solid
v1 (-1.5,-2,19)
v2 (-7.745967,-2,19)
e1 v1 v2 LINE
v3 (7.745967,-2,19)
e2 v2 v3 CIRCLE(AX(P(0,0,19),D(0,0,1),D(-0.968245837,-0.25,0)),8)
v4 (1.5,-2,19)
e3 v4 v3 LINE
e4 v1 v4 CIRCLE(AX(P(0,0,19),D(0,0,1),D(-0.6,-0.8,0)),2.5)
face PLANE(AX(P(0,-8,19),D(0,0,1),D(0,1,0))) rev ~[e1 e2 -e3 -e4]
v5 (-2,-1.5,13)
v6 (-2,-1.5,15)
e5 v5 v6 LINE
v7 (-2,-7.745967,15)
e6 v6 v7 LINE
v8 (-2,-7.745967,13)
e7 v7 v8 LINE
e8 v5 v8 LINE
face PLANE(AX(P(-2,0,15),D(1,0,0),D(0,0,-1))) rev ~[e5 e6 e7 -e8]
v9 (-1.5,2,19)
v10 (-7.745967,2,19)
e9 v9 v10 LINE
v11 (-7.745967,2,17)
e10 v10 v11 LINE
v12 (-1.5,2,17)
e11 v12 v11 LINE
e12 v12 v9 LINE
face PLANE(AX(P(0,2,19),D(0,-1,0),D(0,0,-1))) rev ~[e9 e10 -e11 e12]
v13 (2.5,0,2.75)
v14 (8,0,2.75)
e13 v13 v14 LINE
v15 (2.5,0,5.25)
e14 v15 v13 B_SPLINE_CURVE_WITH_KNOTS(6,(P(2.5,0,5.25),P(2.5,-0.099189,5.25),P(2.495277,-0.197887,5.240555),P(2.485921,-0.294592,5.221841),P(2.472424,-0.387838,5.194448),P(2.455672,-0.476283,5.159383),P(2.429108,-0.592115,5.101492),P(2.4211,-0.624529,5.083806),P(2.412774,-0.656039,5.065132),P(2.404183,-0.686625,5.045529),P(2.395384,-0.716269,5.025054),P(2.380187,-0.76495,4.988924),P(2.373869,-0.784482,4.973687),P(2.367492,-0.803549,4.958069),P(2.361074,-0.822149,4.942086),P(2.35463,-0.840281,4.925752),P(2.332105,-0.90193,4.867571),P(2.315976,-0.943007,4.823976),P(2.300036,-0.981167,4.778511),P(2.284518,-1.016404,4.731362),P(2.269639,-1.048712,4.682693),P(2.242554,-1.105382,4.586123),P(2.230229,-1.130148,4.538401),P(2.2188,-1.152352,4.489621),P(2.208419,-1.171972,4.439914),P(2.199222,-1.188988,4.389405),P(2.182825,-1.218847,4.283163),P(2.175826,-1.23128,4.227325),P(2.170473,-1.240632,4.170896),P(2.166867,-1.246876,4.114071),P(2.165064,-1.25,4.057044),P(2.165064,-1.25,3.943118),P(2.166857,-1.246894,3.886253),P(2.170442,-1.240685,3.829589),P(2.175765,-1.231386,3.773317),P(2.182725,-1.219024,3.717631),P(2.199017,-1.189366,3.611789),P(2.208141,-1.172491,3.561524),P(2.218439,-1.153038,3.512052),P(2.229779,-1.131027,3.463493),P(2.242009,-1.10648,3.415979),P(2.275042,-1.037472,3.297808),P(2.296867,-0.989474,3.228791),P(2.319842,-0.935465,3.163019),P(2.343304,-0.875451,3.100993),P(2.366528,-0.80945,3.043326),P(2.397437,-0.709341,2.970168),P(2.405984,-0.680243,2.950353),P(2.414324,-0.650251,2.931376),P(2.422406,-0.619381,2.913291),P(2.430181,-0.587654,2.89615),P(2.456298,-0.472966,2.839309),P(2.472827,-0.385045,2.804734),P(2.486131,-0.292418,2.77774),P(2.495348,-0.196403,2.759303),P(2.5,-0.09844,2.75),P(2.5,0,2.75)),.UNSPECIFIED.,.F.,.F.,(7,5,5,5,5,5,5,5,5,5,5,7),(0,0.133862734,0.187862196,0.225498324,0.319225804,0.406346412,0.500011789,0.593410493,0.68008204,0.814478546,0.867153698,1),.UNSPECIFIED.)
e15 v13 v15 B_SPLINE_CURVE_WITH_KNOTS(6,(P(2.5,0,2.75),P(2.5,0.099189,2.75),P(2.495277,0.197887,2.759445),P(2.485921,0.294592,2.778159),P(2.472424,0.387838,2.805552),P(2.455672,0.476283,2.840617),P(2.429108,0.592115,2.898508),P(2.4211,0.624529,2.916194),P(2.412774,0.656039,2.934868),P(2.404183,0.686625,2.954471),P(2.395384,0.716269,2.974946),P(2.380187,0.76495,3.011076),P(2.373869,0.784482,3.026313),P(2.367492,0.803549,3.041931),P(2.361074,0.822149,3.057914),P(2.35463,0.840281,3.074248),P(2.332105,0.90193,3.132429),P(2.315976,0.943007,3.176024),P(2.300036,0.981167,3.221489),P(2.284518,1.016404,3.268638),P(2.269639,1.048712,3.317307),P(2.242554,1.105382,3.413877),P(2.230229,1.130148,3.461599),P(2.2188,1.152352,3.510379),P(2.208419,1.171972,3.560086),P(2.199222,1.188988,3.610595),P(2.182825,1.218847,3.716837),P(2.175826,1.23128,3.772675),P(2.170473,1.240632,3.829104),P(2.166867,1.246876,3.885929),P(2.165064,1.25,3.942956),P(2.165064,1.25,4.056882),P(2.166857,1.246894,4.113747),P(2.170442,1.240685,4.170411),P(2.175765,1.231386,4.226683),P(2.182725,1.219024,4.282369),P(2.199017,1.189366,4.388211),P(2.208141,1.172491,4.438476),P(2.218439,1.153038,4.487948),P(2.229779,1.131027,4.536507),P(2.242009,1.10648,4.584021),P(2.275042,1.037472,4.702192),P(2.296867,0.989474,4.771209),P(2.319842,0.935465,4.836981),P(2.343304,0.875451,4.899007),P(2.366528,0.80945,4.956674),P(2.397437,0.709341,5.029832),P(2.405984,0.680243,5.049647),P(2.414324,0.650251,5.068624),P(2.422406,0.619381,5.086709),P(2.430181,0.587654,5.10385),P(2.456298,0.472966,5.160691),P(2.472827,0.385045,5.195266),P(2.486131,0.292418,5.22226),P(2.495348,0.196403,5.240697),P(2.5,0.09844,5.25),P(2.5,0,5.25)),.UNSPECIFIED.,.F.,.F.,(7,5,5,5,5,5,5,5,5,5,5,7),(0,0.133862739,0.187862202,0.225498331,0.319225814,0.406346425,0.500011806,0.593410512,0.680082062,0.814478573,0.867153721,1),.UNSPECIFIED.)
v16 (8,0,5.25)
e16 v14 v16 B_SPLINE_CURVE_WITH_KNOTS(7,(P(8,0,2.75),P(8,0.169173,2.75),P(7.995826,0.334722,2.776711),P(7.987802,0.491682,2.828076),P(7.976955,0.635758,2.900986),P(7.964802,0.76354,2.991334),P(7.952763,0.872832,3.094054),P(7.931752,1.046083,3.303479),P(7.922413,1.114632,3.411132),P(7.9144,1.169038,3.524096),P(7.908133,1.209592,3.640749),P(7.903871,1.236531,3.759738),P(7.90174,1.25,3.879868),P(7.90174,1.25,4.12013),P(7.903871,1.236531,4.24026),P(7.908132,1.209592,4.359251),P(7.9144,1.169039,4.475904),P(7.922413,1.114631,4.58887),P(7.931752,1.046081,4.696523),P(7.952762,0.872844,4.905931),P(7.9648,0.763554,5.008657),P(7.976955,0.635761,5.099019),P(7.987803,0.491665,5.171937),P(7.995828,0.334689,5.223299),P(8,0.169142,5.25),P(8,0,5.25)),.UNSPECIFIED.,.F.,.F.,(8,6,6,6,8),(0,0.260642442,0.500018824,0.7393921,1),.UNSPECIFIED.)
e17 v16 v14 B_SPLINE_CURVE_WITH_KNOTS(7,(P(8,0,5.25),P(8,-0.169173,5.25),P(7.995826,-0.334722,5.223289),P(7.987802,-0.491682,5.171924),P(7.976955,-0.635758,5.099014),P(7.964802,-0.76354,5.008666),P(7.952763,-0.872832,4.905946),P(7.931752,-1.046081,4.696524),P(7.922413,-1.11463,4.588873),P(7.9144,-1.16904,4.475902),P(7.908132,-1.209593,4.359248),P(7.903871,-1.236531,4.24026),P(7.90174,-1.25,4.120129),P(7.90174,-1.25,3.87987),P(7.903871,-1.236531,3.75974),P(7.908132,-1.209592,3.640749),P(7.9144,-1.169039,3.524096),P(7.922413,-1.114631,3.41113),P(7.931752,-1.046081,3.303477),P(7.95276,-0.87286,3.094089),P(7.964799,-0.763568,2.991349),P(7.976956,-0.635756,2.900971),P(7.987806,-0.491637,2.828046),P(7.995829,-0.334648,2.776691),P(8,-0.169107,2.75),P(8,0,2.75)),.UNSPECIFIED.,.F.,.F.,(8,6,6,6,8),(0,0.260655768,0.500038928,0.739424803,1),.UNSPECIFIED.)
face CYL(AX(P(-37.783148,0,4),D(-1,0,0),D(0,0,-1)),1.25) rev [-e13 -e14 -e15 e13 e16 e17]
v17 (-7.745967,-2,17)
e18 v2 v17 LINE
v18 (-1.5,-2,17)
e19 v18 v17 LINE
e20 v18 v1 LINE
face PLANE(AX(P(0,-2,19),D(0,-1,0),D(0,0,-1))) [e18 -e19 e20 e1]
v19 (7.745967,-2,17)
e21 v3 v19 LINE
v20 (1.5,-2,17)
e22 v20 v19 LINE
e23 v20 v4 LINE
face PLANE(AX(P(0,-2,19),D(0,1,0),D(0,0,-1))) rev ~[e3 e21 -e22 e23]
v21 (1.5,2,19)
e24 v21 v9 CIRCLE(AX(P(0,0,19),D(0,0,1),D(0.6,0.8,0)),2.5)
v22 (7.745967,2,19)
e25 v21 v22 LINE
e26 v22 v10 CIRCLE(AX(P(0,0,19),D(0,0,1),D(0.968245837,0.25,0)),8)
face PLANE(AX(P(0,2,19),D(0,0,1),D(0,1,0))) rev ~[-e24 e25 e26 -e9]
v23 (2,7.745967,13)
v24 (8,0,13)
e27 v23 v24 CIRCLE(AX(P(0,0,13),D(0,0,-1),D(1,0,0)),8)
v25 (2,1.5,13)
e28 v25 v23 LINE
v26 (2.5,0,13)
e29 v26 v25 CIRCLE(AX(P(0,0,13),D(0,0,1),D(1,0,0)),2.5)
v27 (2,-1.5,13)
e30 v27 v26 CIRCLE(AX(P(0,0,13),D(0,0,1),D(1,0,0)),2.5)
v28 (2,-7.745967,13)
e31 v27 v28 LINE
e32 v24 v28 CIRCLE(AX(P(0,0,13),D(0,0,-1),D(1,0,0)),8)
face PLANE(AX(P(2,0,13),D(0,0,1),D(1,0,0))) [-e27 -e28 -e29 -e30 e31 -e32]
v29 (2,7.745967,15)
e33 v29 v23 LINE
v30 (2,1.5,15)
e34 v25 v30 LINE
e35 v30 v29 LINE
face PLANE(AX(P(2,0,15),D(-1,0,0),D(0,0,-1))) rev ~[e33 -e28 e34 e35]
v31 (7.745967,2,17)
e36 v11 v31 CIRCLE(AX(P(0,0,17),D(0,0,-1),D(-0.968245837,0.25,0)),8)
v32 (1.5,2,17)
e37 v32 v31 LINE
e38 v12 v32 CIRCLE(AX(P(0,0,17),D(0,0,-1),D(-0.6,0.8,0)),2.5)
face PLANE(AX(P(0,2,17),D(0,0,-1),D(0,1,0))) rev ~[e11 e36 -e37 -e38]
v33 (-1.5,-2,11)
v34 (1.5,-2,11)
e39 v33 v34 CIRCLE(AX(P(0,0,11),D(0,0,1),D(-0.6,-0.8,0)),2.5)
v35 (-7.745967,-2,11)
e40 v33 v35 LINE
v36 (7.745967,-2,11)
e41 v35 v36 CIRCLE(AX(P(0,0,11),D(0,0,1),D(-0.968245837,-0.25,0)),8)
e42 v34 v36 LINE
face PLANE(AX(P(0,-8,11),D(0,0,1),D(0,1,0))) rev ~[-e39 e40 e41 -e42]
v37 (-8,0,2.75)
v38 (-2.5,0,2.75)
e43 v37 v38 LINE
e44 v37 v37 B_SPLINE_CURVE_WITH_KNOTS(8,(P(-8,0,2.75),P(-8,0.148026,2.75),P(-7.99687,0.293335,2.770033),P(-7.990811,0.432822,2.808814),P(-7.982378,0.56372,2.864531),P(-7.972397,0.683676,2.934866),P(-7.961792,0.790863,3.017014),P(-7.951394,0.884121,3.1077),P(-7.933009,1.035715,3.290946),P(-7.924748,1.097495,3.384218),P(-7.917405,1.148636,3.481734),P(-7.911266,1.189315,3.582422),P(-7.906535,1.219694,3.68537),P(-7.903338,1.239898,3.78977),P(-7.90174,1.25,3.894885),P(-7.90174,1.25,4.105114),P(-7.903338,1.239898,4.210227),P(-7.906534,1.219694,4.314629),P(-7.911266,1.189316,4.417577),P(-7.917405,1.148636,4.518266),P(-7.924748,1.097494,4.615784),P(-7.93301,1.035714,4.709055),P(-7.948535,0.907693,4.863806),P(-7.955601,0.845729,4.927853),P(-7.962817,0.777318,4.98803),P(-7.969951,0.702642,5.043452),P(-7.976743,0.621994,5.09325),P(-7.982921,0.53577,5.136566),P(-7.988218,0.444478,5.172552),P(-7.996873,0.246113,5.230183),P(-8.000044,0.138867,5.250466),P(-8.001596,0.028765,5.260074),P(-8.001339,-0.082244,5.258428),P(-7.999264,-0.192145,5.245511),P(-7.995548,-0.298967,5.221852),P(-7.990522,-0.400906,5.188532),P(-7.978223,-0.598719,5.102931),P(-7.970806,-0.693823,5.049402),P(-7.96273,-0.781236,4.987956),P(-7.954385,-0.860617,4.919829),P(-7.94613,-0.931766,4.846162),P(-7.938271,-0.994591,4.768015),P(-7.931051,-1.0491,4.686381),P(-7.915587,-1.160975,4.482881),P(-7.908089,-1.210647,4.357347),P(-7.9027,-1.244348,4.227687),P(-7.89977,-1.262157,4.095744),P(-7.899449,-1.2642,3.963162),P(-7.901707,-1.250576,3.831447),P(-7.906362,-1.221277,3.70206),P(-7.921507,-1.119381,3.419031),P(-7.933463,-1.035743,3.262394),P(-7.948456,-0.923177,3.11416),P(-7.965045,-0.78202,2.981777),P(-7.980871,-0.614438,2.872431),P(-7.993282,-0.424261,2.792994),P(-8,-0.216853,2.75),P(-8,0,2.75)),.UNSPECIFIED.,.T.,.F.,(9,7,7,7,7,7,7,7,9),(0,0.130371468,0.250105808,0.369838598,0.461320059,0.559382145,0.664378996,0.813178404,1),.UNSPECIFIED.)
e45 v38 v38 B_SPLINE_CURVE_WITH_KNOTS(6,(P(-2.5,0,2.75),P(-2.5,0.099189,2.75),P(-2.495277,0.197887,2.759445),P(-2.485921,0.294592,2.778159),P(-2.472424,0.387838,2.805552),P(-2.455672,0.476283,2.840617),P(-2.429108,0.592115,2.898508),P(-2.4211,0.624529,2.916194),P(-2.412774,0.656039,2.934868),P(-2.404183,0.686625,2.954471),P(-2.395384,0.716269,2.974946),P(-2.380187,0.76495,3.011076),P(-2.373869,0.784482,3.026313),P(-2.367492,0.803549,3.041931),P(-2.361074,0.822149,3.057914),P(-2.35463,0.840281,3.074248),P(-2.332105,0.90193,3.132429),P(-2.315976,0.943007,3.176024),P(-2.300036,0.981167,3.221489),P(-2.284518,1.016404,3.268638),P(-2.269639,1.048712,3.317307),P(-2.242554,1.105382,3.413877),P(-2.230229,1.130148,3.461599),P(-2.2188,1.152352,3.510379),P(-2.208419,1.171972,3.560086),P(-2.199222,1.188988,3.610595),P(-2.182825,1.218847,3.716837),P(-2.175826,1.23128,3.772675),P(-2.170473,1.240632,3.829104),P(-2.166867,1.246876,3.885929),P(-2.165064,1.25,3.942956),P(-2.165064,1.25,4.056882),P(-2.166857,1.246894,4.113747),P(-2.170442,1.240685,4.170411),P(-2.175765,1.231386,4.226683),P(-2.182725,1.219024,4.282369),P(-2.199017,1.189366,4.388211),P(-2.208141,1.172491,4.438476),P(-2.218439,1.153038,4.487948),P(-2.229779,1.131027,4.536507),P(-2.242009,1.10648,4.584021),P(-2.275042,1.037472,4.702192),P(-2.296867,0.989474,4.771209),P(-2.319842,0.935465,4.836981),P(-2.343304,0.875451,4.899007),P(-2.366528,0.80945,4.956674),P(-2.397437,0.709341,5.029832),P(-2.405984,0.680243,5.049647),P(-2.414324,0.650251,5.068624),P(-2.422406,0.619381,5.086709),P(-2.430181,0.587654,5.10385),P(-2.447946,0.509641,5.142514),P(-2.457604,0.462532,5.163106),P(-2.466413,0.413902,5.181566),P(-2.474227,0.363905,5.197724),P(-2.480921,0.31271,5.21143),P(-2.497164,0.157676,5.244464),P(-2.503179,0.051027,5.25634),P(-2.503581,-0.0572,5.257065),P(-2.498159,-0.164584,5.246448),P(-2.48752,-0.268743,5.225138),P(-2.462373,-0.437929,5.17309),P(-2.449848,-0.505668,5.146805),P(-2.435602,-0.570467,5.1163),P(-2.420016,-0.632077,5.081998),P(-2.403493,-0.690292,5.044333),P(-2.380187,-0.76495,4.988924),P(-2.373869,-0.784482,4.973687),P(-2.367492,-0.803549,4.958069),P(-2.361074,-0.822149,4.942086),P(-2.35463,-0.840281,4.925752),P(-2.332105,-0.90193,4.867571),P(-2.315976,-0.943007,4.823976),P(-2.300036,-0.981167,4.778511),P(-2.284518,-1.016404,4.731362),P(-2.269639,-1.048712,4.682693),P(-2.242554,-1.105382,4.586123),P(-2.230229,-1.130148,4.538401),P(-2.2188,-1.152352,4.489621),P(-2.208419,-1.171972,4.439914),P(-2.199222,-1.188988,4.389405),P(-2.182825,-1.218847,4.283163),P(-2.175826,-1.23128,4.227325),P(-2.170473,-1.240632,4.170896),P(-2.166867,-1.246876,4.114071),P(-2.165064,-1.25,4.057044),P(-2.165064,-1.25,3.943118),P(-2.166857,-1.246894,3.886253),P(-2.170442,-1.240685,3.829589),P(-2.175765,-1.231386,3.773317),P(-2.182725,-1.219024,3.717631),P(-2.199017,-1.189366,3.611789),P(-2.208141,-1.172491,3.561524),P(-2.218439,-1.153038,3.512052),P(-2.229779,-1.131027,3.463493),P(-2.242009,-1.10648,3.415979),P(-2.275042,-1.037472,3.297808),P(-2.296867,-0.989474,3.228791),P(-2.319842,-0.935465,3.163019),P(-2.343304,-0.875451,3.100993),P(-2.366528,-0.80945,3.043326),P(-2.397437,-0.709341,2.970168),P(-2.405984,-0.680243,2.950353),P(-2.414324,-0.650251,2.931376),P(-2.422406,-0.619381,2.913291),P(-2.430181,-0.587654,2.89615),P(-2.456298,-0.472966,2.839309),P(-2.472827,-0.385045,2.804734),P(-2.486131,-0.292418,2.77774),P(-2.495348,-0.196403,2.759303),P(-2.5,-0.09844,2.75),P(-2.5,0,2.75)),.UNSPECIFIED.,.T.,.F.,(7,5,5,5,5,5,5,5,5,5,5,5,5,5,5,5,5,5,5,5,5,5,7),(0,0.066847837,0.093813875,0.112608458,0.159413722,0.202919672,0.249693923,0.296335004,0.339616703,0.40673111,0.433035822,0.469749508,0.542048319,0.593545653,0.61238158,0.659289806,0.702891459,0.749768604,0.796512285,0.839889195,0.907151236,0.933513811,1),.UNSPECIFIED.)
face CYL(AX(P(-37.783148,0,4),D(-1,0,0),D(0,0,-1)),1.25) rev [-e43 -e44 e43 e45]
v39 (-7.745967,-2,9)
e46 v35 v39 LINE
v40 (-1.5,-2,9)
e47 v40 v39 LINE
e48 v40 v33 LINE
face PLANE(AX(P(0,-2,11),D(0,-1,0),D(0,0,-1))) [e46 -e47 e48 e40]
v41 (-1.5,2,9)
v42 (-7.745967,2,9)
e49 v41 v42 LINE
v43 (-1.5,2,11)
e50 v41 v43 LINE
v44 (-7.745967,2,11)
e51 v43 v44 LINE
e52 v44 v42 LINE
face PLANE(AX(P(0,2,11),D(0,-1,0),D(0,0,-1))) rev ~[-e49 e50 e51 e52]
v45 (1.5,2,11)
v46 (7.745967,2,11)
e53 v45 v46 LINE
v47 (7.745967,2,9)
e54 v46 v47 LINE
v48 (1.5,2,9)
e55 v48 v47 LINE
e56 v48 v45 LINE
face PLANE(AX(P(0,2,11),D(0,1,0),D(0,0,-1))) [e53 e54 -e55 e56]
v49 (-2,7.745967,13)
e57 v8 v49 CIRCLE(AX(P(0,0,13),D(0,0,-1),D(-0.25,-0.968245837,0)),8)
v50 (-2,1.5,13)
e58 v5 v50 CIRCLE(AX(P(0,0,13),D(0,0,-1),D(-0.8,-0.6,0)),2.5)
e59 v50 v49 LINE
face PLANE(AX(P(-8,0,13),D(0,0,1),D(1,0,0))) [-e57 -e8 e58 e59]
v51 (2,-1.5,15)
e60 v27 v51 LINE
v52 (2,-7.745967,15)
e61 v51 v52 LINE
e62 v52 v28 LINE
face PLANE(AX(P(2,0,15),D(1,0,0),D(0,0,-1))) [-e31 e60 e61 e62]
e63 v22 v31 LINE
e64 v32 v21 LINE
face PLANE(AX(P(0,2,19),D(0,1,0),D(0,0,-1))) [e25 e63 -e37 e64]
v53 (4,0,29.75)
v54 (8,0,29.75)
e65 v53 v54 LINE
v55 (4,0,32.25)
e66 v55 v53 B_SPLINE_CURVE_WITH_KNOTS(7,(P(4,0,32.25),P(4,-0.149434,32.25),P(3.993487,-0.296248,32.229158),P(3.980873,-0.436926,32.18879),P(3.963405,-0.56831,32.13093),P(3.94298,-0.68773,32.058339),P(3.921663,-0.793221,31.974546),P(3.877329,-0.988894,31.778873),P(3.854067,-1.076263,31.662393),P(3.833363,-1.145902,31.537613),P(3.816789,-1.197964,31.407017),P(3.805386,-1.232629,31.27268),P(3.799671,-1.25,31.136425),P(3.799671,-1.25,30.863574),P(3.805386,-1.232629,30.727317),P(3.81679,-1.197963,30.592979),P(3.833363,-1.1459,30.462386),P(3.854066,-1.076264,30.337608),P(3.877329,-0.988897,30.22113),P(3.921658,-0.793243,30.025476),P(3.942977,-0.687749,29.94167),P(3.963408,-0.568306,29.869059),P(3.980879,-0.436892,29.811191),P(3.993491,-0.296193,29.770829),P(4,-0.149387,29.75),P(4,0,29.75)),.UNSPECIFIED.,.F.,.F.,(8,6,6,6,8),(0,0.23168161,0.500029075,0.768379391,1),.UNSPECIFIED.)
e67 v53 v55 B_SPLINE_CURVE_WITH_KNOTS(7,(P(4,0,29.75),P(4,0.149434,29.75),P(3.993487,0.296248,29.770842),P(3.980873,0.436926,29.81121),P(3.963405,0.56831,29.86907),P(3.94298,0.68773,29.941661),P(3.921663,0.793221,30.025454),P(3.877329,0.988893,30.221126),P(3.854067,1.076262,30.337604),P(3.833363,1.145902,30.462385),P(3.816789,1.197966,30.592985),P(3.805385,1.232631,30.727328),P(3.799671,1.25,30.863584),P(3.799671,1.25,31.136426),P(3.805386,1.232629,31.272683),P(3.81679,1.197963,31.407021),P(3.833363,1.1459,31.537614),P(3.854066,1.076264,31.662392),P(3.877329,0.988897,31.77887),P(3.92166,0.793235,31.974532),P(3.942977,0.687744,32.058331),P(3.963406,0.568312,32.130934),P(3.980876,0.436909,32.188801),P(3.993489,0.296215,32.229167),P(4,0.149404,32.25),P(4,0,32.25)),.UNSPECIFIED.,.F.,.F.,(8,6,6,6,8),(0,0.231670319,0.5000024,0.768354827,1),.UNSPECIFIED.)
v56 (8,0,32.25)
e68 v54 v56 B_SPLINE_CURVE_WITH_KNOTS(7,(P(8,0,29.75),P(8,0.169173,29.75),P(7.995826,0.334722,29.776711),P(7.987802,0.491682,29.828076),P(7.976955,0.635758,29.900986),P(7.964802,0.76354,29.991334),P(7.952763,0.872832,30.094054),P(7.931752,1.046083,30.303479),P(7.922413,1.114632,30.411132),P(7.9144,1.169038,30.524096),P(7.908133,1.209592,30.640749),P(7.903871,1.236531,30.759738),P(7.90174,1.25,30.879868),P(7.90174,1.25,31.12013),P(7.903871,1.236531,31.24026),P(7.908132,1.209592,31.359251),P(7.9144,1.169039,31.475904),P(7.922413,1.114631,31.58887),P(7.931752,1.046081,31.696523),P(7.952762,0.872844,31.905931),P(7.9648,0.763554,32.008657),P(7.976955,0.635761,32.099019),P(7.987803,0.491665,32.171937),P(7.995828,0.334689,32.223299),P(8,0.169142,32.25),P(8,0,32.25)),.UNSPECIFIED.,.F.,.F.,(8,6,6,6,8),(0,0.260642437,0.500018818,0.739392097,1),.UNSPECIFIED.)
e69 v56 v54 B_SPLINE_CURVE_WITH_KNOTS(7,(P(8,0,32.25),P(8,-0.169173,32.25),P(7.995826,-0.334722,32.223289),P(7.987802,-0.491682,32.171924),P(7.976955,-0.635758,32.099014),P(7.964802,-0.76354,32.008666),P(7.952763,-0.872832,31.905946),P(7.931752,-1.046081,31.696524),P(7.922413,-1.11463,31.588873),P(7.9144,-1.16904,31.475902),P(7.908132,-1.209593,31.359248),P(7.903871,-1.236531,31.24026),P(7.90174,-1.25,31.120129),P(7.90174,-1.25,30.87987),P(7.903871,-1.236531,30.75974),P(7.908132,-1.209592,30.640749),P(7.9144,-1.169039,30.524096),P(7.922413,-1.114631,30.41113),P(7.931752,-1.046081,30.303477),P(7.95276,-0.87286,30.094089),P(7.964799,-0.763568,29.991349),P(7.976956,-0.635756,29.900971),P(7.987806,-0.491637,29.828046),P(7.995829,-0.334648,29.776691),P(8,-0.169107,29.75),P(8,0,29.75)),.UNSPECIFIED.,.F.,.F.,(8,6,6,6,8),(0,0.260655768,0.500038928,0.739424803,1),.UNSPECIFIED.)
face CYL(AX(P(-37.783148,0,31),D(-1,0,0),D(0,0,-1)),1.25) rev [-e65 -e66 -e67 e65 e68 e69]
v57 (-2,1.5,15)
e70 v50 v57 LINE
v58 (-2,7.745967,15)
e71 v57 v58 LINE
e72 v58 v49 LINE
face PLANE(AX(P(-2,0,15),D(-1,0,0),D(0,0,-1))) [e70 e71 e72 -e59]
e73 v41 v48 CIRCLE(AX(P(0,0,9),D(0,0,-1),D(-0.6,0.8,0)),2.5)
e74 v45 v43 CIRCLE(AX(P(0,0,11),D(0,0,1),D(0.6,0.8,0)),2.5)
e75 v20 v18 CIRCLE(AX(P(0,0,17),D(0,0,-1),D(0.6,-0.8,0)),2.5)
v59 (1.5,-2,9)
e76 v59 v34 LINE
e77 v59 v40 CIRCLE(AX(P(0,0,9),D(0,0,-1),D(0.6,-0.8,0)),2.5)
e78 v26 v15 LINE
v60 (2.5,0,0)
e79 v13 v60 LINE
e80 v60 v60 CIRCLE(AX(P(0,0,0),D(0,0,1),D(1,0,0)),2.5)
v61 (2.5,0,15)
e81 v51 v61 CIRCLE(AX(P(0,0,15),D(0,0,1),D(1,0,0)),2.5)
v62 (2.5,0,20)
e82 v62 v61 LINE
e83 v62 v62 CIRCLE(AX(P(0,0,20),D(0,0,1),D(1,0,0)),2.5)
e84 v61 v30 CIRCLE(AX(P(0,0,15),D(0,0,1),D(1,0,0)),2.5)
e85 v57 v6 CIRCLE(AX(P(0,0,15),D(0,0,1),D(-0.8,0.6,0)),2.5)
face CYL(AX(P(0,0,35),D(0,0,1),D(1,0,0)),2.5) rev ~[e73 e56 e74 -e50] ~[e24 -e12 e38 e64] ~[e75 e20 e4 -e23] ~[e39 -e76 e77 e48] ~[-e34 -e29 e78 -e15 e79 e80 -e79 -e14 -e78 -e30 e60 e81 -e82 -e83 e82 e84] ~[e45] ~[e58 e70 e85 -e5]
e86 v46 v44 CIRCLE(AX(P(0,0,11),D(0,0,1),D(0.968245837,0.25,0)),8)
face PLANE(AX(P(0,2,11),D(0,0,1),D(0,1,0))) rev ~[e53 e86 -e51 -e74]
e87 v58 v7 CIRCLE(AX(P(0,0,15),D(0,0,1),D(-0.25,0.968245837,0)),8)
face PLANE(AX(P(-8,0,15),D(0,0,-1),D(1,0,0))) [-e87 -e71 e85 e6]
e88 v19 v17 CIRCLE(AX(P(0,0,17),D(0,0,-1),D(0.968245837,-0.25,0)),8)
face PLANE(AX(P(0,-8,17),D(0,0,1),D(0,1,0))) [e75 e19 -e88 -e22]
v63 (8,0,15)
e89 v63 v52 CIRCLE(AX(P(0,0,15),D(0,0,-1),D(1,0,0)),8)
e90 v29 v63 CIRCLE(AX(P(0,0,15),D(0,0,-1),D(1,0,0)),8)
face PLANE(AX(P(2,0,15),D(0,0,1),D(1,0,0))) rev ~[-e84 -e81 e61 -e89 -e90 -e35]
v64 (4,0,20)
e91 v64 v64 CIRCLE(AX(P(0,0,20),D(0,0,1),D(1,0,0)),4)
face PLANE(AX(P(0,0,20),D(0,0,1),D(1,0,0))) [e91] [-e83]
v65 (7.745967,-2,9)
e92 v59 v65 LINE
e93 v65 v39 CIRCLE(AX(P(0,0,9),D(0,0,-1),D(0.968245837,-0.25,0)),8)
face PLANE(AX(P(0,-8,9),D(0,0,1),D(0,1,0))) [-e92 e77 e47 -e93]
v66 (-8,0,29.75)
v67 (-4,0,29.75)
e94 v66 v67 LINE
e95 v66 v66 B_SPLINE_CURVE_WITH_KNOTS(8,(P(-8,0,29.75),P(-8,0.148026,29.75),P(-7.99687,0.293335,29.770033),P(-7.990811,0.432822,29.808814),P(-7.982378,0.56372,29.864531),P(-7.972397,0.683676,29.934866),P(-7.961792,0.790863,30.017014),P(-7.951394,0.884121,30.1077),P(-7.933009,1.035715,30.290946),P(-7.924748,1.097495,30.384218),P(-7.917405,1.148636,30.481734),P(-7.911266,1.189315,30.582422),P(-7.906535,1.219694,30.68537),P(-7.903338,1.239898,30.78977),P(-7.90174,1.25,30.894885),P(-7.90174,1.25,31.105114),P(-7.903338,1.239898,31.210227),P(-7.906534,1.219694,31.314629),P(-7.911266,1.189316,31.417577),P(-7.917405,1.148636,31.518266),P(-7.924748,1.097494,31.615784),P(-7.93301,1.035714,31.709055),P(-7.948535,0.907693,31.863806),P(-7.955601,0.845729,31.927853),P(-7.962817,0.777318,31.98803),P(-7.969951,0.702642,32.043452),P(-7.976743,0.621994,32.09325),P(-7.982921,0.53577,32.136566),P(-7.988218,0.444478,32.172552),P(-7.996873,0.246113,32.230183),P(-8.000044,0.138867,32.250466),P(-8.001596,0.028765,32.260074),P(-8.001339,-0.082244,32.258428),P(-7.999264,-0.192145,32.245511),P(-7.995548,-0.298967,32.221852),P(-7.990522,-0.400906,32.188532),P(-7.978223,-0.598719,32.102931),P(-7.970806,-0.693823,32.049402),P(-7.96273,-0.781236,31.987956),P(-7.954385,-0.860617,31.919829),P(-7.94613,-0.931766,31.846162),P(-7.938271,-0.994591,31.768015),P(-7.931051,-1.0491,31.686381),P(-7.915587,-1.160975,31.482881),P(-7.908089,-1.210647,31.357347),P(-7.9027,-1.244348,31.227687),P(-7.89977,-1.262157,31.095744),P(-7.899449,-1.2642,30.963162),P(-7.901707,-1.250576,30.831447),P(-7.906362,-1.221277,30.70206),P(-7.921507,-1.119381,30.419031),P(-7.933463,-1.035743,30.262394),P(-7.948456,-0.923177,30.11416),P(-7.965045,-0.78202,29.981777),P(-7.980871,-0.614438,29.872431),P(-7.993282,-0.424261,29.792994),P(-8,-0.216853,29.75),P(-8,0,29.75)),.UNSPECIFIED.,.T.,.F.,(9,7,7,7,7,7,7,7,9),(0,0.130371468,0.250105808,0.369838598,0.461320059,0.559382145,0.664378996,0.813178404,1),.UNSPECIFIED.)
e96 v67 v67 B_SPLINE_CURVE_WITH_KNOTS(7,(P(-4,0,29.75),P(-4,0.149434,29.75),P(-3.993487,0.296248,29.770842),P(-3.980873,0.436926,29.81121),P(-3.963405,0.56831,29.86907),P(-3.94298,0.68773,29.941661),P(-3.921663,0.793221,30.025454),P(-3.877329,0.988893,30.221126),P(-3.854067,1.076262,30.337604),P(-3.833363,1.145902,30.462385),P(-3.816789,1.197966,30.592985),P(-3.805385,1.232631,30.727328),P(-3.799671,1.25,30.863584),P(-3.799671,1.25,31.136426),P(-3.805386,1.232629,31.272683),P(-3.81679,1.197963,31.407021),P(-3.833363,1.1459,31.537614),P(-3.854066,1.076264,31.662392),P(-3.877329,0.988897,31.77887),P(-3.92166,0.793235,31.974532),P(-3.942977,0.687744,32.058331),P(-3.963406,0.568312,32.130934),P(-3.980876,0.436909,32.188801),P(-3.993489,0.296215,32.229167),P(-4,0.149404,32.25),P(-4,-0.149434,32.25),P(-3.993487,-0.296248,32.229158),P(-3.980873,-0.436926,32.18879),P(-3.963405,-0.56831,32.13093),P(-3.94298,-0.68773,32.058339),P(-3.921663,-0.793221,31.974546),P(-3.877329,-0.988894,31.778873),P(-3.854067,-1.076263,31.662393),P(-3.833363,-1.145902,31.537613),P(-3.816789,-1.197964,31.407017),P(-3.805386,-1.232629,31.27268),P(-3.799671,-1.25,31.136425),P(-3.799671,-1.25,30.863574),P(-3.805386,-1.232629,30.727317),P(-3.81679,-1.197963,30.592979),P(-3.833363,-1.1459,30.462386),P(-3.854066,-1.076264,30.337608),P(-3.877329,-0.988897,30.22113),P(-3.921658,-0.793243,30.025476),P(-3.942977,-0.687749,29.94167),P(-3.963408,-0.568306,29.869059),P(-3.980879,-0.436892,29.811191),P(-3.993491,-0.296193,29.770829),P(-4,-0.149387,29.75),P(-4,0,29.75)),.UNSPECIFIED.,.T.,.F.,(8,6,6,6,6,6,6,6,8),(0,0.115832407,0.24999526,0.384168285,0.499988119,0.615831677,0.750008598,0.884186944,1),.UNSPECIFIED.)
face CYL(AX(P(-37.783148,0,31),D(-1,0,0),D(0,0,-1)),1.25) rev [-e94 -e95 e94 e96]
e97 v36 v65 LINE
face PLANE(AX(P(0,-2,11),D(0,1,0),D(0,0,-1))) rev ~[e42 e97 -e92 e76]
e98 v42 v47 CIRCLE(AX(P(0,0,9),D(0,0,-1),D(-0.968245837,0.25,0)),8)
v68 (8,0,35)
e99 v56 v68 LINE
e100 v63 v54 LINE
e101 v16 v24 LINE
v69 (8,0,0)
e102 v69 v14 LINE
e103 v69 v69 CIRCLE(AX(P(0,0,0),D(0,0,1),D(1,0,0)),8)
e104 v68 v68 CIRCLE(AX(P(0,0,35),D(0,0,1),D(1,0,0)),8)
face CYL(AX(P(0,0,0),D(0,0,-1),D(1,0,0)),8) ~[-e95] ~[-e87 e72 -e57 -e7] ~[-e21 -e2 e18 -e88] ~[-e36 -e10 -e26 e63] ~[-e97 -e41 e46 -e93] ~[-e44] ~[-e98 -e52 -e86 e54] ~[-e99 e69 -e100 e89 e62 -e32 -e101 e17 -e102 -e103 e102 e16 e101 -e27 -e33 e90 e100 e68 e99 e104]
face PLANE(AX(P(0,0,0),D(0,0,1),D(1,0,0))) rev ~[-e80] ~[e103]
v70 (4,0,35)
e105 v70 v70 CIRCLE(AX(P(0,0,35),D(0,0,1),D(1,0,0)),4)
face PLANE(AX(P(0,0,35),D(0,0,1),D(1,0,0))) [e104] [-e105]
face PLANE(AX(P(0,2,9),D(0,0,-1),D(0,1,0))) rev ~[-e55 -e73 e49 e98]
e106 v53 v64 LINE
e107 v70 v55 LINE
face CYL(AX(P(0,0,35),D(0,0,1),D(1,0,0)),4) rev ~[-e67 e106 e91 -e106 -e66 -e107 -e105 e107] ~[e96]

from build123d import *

# Parameters (mm, degrees)
SCHIZZO1_R                           = 8
ESTRUSIONE_ESTRUSIONE1_DEPTH         = 35
SCHIZZO2_R                           = 2.5
TAGLIO_ESTRUSIONE1_DEPTH             = 37.783148315
SCHIZZO3_R                           = 4
TAGLIO_ESTRUSIONE2_DEPTH             = 15
TAGLIO_ESTRUSIONE3_DEPTH             = 37.783148315
TAGLIO_ESTRUSIONE3_DEPTH_BACK        = 37.783148315
SCHIZZO4_R                           = 1.25
TAGLIO_ESTRUSIONE8_REACH             = 38.783
SCHIZZO13_W                          = 2
SCHIZZO13_H                          = 6
TAGLIO_ESTRUSIONE8_DIRECTION_2_REACH = 38.783
TAGLIO_ESTRUSIONE9_REACH             = 38.783
SCHIZZO14_W                          = 6
SCHIZZO14_H                          = 2
TAGLIO_ESTRUSIONE9_DIRECTION_2_REACH = 38.783


with BuildPart() as part:
    # Schizzo1 → Estrusione-Estrusione1 (new body)
    with BuildSketch(Plane.XY):
        Circle(SCHIZZO1_R)
    extrude(amount=ESTRUSIONE_ESTRUSIONE1_DEPTH)

    # Schizzo2 → Taglio-Estrusione1 (cut, through all)
    with BuildSketch(Plane.XY.offset(35)):
        Circle(SCHIZZO2_R)
    extrude(amount=-TAGLIO_ESTRUSIONE1_DEPTH, mode=Mode.SUBTRACT)

    # Schizzo3 → Taglio-Estrusione2 (cut)
    with BuildSketch(Plane.XY.offset(35)):
        Circle(SCHIZZO3_R)
    extrude(amount=-TAGLIO_ESTRUSIONE2_DEPTH, mode=Mode.SUBTRACT)

    # Schizzo4 → Taglio-Estrusione3 (cut, two sides: drawn at the far end of the back side and taken through both)
    with BuildSketch(Plane(origin=(0, 0, 0), x_dir=(0, 0, -1), z_dir=(1, 0, 0)).offset(-TAGLIO_ESTRUSIONE3_DEPTH_BACK)):
        with Locations((-31, 0)):
            Circle(SCHIZZO4_R)
        with Locations((-4, 0)):
            Circle(SCHIZZO4_R)
    extrude(amount=TAGLIO_ESTRUSIONE3_DEPTH + TAGLIO_ESTRUSIONE3_DEPTH_BACK, mode=Mode.SUBTRACT)

    # Schizzo13 → Taglio-Estrusione8 (cut, up to next)
    with BuildSketch(Plane(origin=(0, 0, 0), x_dir=(0, 0, -1), z_dir=(1, 0, 0)), mode=Mode.PRIVATE) as taglio_estrusione8_sk1:
        with Locations((-18, 5)):
            Rectangle(SCHIZZO13_W, SCHIZZO13_H)
    taglio_estrusione8_tool1 = extrude(taglio_estrusione8_sk1.sketch, amount=-TAGLIO_ESTRUSIONE8_REACH, mode=Mode.PRIVATE) & part.part
    # Schizzo13 → Taglio-Estrusione8 (cut, up to next)
    with BuildSketch(Plane(origin=(0, 0, 0), x_dir=(0, 0, -1), z_dir=(1, 0, 0)), mode=Mode.PRIVATE) as taglio_estrusione8_sk2:
        with Locations((-10, 5)):
            Rectangle(SCHIZZO13_W, SCHIZZO13_H)
    taglio_estrusione8_tool2 = extrude(taglio_estrusione8_sk2.sketch, amount=-TAGLIO_ESTRUSIONE8_REACH, mode=Mode.PRIVATE) & part.part
    # Schizzo13 → Taglio-Estrusione8 (cut, up to next)
    with BuildSketch(Plane(origin=(0, 0, 0), x_dir=(0, 0, -1), z_dir=(1, 0, 0)), mode=Mode.PRIVATE) as taglio_estrusione8_sk3:
        with Locations((-18, -5)):
            Rectangle(SCHIZZO13_W, SCHIZZO13_H)
    taglio_estrusione8_tool3 = extrude(taglio_estrusione8_sk3.sketch, amount=-TAGLIO_ESTRUSIONE8_REACH, mode=Mode.PRIVATE) & part.part
    # Schizzo13 → Taglio-Estrusione8 (cut, up to next)
    with BuildSketch(Plane(origin=(0, 0, 0), x_dir=(0, 0, -1), z_dir=(1, 0, 0)), mode=Mode.PRIVATE) as taglio_estrusione8_sk4:
        with Locations((-10, -5)):
            Rectangle(SCHIZZO13_W, SCHIZZO13_H)
    taglio_estrusione8_tool4 = extrude(taglio_estrusione8_sk4.sketch, amount=-TAGLIO_ESTRUSIONE8_REACH, mode=Mode.PRIVATE) & part.part
    add(taglio_estrusione8_tool1.solids().sort_by_distance((0, 5, 18))[0], mode=Mode.SUBTRACT)
    add(taglio_estrusione8_tool2.solids().sort_by_distance((0, 5, 10))[0], mode=Mode.SUBTRACT)
    add(taglio_estrusione8_tool3.solids().sort_by_distance((0, -5, 18))[0], mode=Mode.SUBTRACT)
    add(taglio_estrusione8_tool4.solids().sort_by_distance((0, -5, 10))[0], mode=Mode.SUBTRACT)

    # Schizzo13 → Taglio-Estrusione8 direction 2 (cut, up to next)
    with BuildSketch(Plane(origin=(0, 0, 0), x_dir=(0, 0, -1), z_dir=(1, 0, 0)), mode=Mode.PRIVATE) as taglio_estrusione8_direction_2_sk1:
        with Locations((-18, 5)):
            Rectangle(SCHIZZO13_W, SCHIZZO13_H)
    taglio_estrusione8_direction_2_tool1 = extrude(taglio_estrusione8_direction_2_sk1.sketch, amount=TAGLIO_ESTRUSIONE8_DIRECTION_2_REACH, mode=Mode.PRIVATE) & part.part
    # Schizzo13 → Taglio-Estrusione8 direction 2 (cut, up to next)
    with BuildSketch(Plane(origin=(0, 0, 0), x_dir=(0, 0, -1), z_dir=(1, 0, 0)), mode=Mode.PRIVATE) as taglio_estrusione8_direction_2_sk2:
        with Locations((-10, 5)):
            Rectangle(SCHIZZO13_W, SCHIZZO13_H)
    taglio_estrusione8_direction_2_tool2 = extrude(taglio_estrusione8_direction_2_sk2.sketch, amount=TAGLIO_ESTRUSIONE8_DIRECTION_2_REACH, mode=Mode.PRIVATE) & part.part
    # Schizzo13 → Taglio-Estrusione8 direction 2 (cut, up to next)
    with BuildSketch(Plane(origin=(0, 0, 0), x_dir=(0, 0, -1), z_dir=(1, 0, 0)), mode=Mode.PRIVATE) as taglio_estrusione8_direction_2_sk3:
        with Locations((-18, -5)):
            Rectangle(SCHIZZO13_W, SCHIZZO13_H)
    taglio_estrusione8_direction_2_tool3 = extrude(taglio_estrusione8_direction_2_sk3.sketch, amount=TAGLIO_ESTRUSIONE8_DIRECTION_2_REACH, mode=Mode.PRIVATE) & part.part
    # Schizzo13 → Taglio-Estrusione8 direction 2 (cut, up to next)
    with BuildSketch(Plane(origin=(0, 0, 0), x_dir=(0, 0, -1), z_dir=(1, 0, 0)), mode=Mode.PRIVATE) as taglio_estrusione8_direction_2_sk4:
        with Locations((-10, -5)):
            Rectangle(SCHIZZO13_W, SCHIZZO13_H)
    taglio_estrusione8_direction_2_tool4 = extrude(taglio_estrusione8_direction_2_sk4.sketch, amount=TAGLIO_ESTRUSIONE8_DIRECTION_2_REACH, mode=Mode.PRIVATE) & part.part
    add(taglio_estrusione8_direction_2_tool1.solids().sort_by_distance((0, 5, 18))[0], mode=Mode.SUBTRACT)
    add(taglio_estrusione8_direction_2_tool2.solids().sort_by_distance((0, 5, 10))[0], mode=Mode.SUBTRACT)
    add(taglio_estrusione8_direction_2_tool3.solids().sort_by_distance((0, -5, 18))[0], mode=Mode.SUBTRACT)
    add(taglio_estrusione8_direction_2_tool4.solids().sort_by_distance((0, -5, 10))[0], mode=Mode.SUBTRACT)

    # Schizzo14 → Taglio-Estrusione9 (cut, up to next)
    with BuildSketch(Plane(origin=(0, 0, 0), x_dir=(1, 0, 0), z_dir=(0, 1, 0)), mode=Mode.PRIVATE) as taglio_estrusione9_sk1:
        with Locations((-5, -14)):
            Rectangle(SCHIZZO14_W, SCHIZZO14_H)
    taglio_estrusione9_tool1 = extrude(taglio_estrusione9_sk1.sketch, amount=-TAGLIO_ESTRUSIONE9_REACH, mode=Mode.PRIVATE) & part.part
    # Schizzo14 → Taglio-Estrusione9 (cut, up to next)
    with BuildSketch(Plane(origin=(0, 0, 0), x_dir=(1, 0, 0), z_dir=(0, 1, 0)), mode=Mode.PRIVATE) as taglio_estrusione9_sk2:
        with Locations((5, -14)):
            Rectangle(SCHIZZO14_W, SCHIZZO14_H)
    taglio_estrusione9_tool2 = extrude(taglio_estrusione9_sk2.sketch, amount=-TAGLIO_ESTRUSIONE9_REACH, mode=Mode.PRIVATE) & part.part
    add(taglio_estrusione9_tool1.solids().sort_by_distance((-5, 0, 14))[0], mode=Mode.SUBTRACT)
    add(taglio_estrusione9_tool2.solids().sort_by_distance((5, 0, 14))[0], mode=Mode.SUBTRACT)

    # Schizzo14 → Taglio-Estrusione9 direction 2 (cut, up to next)
    with BuildSketch(Plane(origin=(0, 0, 0), x_dir=(1, 0, 0), z_dir=(0, 1, 0)), mode=Mode.PRIVATE) as taglio_estrusione9_direction_2_sk1:
        with Locations((-5, -14)):
            Rectangle(SCHIZZO14_W, SCHIZZO14_H)
    taglio_estrusione9_direction_2_tool1 = extrude(taglio_estrusione9_direction_2_sk1.sketch, amount=TAGLIO_ESTRUSIONE9_DIRECTION_2_REACH, mode=Mode.PRIVATE) & part.part
    # Schizzo14 → Taglio-Estrusione9 direction 2 (cut, up to next)
    with BuildSketch(Plane(origin=(0, 0, 0), x_dir=(1, 0, 0), z_dir=(0, 1, 0)), mode=Mode.PRIVATE) as taglio_estrusione9_direction_2_sk2:
        with Locations((5, -14)):
            Rectangle(SCHIZZO14_W, SCHIZZO14_H)
    taglio_estrusione9_direction_2_tool2 = extrude(taglio_estrusione9_direction_2_sk2.sketch, amount=TAGLIO_ESTRUSIONE9_DIRECTION_2_REACH, mode=Mode.PRIVATE) & part.part
    add(taglio_estrusione9_direction_2_tool1.solids().sort_by_distance((-5, 0, 14))[0], mode=Mode.SUBTRACT)
    add(taglio_estrusione9_direction_2_tool2.solids().sort_by_distance((5, 0, 14))[0], mode=Mode.SUBTRACT)


solid = part.part
